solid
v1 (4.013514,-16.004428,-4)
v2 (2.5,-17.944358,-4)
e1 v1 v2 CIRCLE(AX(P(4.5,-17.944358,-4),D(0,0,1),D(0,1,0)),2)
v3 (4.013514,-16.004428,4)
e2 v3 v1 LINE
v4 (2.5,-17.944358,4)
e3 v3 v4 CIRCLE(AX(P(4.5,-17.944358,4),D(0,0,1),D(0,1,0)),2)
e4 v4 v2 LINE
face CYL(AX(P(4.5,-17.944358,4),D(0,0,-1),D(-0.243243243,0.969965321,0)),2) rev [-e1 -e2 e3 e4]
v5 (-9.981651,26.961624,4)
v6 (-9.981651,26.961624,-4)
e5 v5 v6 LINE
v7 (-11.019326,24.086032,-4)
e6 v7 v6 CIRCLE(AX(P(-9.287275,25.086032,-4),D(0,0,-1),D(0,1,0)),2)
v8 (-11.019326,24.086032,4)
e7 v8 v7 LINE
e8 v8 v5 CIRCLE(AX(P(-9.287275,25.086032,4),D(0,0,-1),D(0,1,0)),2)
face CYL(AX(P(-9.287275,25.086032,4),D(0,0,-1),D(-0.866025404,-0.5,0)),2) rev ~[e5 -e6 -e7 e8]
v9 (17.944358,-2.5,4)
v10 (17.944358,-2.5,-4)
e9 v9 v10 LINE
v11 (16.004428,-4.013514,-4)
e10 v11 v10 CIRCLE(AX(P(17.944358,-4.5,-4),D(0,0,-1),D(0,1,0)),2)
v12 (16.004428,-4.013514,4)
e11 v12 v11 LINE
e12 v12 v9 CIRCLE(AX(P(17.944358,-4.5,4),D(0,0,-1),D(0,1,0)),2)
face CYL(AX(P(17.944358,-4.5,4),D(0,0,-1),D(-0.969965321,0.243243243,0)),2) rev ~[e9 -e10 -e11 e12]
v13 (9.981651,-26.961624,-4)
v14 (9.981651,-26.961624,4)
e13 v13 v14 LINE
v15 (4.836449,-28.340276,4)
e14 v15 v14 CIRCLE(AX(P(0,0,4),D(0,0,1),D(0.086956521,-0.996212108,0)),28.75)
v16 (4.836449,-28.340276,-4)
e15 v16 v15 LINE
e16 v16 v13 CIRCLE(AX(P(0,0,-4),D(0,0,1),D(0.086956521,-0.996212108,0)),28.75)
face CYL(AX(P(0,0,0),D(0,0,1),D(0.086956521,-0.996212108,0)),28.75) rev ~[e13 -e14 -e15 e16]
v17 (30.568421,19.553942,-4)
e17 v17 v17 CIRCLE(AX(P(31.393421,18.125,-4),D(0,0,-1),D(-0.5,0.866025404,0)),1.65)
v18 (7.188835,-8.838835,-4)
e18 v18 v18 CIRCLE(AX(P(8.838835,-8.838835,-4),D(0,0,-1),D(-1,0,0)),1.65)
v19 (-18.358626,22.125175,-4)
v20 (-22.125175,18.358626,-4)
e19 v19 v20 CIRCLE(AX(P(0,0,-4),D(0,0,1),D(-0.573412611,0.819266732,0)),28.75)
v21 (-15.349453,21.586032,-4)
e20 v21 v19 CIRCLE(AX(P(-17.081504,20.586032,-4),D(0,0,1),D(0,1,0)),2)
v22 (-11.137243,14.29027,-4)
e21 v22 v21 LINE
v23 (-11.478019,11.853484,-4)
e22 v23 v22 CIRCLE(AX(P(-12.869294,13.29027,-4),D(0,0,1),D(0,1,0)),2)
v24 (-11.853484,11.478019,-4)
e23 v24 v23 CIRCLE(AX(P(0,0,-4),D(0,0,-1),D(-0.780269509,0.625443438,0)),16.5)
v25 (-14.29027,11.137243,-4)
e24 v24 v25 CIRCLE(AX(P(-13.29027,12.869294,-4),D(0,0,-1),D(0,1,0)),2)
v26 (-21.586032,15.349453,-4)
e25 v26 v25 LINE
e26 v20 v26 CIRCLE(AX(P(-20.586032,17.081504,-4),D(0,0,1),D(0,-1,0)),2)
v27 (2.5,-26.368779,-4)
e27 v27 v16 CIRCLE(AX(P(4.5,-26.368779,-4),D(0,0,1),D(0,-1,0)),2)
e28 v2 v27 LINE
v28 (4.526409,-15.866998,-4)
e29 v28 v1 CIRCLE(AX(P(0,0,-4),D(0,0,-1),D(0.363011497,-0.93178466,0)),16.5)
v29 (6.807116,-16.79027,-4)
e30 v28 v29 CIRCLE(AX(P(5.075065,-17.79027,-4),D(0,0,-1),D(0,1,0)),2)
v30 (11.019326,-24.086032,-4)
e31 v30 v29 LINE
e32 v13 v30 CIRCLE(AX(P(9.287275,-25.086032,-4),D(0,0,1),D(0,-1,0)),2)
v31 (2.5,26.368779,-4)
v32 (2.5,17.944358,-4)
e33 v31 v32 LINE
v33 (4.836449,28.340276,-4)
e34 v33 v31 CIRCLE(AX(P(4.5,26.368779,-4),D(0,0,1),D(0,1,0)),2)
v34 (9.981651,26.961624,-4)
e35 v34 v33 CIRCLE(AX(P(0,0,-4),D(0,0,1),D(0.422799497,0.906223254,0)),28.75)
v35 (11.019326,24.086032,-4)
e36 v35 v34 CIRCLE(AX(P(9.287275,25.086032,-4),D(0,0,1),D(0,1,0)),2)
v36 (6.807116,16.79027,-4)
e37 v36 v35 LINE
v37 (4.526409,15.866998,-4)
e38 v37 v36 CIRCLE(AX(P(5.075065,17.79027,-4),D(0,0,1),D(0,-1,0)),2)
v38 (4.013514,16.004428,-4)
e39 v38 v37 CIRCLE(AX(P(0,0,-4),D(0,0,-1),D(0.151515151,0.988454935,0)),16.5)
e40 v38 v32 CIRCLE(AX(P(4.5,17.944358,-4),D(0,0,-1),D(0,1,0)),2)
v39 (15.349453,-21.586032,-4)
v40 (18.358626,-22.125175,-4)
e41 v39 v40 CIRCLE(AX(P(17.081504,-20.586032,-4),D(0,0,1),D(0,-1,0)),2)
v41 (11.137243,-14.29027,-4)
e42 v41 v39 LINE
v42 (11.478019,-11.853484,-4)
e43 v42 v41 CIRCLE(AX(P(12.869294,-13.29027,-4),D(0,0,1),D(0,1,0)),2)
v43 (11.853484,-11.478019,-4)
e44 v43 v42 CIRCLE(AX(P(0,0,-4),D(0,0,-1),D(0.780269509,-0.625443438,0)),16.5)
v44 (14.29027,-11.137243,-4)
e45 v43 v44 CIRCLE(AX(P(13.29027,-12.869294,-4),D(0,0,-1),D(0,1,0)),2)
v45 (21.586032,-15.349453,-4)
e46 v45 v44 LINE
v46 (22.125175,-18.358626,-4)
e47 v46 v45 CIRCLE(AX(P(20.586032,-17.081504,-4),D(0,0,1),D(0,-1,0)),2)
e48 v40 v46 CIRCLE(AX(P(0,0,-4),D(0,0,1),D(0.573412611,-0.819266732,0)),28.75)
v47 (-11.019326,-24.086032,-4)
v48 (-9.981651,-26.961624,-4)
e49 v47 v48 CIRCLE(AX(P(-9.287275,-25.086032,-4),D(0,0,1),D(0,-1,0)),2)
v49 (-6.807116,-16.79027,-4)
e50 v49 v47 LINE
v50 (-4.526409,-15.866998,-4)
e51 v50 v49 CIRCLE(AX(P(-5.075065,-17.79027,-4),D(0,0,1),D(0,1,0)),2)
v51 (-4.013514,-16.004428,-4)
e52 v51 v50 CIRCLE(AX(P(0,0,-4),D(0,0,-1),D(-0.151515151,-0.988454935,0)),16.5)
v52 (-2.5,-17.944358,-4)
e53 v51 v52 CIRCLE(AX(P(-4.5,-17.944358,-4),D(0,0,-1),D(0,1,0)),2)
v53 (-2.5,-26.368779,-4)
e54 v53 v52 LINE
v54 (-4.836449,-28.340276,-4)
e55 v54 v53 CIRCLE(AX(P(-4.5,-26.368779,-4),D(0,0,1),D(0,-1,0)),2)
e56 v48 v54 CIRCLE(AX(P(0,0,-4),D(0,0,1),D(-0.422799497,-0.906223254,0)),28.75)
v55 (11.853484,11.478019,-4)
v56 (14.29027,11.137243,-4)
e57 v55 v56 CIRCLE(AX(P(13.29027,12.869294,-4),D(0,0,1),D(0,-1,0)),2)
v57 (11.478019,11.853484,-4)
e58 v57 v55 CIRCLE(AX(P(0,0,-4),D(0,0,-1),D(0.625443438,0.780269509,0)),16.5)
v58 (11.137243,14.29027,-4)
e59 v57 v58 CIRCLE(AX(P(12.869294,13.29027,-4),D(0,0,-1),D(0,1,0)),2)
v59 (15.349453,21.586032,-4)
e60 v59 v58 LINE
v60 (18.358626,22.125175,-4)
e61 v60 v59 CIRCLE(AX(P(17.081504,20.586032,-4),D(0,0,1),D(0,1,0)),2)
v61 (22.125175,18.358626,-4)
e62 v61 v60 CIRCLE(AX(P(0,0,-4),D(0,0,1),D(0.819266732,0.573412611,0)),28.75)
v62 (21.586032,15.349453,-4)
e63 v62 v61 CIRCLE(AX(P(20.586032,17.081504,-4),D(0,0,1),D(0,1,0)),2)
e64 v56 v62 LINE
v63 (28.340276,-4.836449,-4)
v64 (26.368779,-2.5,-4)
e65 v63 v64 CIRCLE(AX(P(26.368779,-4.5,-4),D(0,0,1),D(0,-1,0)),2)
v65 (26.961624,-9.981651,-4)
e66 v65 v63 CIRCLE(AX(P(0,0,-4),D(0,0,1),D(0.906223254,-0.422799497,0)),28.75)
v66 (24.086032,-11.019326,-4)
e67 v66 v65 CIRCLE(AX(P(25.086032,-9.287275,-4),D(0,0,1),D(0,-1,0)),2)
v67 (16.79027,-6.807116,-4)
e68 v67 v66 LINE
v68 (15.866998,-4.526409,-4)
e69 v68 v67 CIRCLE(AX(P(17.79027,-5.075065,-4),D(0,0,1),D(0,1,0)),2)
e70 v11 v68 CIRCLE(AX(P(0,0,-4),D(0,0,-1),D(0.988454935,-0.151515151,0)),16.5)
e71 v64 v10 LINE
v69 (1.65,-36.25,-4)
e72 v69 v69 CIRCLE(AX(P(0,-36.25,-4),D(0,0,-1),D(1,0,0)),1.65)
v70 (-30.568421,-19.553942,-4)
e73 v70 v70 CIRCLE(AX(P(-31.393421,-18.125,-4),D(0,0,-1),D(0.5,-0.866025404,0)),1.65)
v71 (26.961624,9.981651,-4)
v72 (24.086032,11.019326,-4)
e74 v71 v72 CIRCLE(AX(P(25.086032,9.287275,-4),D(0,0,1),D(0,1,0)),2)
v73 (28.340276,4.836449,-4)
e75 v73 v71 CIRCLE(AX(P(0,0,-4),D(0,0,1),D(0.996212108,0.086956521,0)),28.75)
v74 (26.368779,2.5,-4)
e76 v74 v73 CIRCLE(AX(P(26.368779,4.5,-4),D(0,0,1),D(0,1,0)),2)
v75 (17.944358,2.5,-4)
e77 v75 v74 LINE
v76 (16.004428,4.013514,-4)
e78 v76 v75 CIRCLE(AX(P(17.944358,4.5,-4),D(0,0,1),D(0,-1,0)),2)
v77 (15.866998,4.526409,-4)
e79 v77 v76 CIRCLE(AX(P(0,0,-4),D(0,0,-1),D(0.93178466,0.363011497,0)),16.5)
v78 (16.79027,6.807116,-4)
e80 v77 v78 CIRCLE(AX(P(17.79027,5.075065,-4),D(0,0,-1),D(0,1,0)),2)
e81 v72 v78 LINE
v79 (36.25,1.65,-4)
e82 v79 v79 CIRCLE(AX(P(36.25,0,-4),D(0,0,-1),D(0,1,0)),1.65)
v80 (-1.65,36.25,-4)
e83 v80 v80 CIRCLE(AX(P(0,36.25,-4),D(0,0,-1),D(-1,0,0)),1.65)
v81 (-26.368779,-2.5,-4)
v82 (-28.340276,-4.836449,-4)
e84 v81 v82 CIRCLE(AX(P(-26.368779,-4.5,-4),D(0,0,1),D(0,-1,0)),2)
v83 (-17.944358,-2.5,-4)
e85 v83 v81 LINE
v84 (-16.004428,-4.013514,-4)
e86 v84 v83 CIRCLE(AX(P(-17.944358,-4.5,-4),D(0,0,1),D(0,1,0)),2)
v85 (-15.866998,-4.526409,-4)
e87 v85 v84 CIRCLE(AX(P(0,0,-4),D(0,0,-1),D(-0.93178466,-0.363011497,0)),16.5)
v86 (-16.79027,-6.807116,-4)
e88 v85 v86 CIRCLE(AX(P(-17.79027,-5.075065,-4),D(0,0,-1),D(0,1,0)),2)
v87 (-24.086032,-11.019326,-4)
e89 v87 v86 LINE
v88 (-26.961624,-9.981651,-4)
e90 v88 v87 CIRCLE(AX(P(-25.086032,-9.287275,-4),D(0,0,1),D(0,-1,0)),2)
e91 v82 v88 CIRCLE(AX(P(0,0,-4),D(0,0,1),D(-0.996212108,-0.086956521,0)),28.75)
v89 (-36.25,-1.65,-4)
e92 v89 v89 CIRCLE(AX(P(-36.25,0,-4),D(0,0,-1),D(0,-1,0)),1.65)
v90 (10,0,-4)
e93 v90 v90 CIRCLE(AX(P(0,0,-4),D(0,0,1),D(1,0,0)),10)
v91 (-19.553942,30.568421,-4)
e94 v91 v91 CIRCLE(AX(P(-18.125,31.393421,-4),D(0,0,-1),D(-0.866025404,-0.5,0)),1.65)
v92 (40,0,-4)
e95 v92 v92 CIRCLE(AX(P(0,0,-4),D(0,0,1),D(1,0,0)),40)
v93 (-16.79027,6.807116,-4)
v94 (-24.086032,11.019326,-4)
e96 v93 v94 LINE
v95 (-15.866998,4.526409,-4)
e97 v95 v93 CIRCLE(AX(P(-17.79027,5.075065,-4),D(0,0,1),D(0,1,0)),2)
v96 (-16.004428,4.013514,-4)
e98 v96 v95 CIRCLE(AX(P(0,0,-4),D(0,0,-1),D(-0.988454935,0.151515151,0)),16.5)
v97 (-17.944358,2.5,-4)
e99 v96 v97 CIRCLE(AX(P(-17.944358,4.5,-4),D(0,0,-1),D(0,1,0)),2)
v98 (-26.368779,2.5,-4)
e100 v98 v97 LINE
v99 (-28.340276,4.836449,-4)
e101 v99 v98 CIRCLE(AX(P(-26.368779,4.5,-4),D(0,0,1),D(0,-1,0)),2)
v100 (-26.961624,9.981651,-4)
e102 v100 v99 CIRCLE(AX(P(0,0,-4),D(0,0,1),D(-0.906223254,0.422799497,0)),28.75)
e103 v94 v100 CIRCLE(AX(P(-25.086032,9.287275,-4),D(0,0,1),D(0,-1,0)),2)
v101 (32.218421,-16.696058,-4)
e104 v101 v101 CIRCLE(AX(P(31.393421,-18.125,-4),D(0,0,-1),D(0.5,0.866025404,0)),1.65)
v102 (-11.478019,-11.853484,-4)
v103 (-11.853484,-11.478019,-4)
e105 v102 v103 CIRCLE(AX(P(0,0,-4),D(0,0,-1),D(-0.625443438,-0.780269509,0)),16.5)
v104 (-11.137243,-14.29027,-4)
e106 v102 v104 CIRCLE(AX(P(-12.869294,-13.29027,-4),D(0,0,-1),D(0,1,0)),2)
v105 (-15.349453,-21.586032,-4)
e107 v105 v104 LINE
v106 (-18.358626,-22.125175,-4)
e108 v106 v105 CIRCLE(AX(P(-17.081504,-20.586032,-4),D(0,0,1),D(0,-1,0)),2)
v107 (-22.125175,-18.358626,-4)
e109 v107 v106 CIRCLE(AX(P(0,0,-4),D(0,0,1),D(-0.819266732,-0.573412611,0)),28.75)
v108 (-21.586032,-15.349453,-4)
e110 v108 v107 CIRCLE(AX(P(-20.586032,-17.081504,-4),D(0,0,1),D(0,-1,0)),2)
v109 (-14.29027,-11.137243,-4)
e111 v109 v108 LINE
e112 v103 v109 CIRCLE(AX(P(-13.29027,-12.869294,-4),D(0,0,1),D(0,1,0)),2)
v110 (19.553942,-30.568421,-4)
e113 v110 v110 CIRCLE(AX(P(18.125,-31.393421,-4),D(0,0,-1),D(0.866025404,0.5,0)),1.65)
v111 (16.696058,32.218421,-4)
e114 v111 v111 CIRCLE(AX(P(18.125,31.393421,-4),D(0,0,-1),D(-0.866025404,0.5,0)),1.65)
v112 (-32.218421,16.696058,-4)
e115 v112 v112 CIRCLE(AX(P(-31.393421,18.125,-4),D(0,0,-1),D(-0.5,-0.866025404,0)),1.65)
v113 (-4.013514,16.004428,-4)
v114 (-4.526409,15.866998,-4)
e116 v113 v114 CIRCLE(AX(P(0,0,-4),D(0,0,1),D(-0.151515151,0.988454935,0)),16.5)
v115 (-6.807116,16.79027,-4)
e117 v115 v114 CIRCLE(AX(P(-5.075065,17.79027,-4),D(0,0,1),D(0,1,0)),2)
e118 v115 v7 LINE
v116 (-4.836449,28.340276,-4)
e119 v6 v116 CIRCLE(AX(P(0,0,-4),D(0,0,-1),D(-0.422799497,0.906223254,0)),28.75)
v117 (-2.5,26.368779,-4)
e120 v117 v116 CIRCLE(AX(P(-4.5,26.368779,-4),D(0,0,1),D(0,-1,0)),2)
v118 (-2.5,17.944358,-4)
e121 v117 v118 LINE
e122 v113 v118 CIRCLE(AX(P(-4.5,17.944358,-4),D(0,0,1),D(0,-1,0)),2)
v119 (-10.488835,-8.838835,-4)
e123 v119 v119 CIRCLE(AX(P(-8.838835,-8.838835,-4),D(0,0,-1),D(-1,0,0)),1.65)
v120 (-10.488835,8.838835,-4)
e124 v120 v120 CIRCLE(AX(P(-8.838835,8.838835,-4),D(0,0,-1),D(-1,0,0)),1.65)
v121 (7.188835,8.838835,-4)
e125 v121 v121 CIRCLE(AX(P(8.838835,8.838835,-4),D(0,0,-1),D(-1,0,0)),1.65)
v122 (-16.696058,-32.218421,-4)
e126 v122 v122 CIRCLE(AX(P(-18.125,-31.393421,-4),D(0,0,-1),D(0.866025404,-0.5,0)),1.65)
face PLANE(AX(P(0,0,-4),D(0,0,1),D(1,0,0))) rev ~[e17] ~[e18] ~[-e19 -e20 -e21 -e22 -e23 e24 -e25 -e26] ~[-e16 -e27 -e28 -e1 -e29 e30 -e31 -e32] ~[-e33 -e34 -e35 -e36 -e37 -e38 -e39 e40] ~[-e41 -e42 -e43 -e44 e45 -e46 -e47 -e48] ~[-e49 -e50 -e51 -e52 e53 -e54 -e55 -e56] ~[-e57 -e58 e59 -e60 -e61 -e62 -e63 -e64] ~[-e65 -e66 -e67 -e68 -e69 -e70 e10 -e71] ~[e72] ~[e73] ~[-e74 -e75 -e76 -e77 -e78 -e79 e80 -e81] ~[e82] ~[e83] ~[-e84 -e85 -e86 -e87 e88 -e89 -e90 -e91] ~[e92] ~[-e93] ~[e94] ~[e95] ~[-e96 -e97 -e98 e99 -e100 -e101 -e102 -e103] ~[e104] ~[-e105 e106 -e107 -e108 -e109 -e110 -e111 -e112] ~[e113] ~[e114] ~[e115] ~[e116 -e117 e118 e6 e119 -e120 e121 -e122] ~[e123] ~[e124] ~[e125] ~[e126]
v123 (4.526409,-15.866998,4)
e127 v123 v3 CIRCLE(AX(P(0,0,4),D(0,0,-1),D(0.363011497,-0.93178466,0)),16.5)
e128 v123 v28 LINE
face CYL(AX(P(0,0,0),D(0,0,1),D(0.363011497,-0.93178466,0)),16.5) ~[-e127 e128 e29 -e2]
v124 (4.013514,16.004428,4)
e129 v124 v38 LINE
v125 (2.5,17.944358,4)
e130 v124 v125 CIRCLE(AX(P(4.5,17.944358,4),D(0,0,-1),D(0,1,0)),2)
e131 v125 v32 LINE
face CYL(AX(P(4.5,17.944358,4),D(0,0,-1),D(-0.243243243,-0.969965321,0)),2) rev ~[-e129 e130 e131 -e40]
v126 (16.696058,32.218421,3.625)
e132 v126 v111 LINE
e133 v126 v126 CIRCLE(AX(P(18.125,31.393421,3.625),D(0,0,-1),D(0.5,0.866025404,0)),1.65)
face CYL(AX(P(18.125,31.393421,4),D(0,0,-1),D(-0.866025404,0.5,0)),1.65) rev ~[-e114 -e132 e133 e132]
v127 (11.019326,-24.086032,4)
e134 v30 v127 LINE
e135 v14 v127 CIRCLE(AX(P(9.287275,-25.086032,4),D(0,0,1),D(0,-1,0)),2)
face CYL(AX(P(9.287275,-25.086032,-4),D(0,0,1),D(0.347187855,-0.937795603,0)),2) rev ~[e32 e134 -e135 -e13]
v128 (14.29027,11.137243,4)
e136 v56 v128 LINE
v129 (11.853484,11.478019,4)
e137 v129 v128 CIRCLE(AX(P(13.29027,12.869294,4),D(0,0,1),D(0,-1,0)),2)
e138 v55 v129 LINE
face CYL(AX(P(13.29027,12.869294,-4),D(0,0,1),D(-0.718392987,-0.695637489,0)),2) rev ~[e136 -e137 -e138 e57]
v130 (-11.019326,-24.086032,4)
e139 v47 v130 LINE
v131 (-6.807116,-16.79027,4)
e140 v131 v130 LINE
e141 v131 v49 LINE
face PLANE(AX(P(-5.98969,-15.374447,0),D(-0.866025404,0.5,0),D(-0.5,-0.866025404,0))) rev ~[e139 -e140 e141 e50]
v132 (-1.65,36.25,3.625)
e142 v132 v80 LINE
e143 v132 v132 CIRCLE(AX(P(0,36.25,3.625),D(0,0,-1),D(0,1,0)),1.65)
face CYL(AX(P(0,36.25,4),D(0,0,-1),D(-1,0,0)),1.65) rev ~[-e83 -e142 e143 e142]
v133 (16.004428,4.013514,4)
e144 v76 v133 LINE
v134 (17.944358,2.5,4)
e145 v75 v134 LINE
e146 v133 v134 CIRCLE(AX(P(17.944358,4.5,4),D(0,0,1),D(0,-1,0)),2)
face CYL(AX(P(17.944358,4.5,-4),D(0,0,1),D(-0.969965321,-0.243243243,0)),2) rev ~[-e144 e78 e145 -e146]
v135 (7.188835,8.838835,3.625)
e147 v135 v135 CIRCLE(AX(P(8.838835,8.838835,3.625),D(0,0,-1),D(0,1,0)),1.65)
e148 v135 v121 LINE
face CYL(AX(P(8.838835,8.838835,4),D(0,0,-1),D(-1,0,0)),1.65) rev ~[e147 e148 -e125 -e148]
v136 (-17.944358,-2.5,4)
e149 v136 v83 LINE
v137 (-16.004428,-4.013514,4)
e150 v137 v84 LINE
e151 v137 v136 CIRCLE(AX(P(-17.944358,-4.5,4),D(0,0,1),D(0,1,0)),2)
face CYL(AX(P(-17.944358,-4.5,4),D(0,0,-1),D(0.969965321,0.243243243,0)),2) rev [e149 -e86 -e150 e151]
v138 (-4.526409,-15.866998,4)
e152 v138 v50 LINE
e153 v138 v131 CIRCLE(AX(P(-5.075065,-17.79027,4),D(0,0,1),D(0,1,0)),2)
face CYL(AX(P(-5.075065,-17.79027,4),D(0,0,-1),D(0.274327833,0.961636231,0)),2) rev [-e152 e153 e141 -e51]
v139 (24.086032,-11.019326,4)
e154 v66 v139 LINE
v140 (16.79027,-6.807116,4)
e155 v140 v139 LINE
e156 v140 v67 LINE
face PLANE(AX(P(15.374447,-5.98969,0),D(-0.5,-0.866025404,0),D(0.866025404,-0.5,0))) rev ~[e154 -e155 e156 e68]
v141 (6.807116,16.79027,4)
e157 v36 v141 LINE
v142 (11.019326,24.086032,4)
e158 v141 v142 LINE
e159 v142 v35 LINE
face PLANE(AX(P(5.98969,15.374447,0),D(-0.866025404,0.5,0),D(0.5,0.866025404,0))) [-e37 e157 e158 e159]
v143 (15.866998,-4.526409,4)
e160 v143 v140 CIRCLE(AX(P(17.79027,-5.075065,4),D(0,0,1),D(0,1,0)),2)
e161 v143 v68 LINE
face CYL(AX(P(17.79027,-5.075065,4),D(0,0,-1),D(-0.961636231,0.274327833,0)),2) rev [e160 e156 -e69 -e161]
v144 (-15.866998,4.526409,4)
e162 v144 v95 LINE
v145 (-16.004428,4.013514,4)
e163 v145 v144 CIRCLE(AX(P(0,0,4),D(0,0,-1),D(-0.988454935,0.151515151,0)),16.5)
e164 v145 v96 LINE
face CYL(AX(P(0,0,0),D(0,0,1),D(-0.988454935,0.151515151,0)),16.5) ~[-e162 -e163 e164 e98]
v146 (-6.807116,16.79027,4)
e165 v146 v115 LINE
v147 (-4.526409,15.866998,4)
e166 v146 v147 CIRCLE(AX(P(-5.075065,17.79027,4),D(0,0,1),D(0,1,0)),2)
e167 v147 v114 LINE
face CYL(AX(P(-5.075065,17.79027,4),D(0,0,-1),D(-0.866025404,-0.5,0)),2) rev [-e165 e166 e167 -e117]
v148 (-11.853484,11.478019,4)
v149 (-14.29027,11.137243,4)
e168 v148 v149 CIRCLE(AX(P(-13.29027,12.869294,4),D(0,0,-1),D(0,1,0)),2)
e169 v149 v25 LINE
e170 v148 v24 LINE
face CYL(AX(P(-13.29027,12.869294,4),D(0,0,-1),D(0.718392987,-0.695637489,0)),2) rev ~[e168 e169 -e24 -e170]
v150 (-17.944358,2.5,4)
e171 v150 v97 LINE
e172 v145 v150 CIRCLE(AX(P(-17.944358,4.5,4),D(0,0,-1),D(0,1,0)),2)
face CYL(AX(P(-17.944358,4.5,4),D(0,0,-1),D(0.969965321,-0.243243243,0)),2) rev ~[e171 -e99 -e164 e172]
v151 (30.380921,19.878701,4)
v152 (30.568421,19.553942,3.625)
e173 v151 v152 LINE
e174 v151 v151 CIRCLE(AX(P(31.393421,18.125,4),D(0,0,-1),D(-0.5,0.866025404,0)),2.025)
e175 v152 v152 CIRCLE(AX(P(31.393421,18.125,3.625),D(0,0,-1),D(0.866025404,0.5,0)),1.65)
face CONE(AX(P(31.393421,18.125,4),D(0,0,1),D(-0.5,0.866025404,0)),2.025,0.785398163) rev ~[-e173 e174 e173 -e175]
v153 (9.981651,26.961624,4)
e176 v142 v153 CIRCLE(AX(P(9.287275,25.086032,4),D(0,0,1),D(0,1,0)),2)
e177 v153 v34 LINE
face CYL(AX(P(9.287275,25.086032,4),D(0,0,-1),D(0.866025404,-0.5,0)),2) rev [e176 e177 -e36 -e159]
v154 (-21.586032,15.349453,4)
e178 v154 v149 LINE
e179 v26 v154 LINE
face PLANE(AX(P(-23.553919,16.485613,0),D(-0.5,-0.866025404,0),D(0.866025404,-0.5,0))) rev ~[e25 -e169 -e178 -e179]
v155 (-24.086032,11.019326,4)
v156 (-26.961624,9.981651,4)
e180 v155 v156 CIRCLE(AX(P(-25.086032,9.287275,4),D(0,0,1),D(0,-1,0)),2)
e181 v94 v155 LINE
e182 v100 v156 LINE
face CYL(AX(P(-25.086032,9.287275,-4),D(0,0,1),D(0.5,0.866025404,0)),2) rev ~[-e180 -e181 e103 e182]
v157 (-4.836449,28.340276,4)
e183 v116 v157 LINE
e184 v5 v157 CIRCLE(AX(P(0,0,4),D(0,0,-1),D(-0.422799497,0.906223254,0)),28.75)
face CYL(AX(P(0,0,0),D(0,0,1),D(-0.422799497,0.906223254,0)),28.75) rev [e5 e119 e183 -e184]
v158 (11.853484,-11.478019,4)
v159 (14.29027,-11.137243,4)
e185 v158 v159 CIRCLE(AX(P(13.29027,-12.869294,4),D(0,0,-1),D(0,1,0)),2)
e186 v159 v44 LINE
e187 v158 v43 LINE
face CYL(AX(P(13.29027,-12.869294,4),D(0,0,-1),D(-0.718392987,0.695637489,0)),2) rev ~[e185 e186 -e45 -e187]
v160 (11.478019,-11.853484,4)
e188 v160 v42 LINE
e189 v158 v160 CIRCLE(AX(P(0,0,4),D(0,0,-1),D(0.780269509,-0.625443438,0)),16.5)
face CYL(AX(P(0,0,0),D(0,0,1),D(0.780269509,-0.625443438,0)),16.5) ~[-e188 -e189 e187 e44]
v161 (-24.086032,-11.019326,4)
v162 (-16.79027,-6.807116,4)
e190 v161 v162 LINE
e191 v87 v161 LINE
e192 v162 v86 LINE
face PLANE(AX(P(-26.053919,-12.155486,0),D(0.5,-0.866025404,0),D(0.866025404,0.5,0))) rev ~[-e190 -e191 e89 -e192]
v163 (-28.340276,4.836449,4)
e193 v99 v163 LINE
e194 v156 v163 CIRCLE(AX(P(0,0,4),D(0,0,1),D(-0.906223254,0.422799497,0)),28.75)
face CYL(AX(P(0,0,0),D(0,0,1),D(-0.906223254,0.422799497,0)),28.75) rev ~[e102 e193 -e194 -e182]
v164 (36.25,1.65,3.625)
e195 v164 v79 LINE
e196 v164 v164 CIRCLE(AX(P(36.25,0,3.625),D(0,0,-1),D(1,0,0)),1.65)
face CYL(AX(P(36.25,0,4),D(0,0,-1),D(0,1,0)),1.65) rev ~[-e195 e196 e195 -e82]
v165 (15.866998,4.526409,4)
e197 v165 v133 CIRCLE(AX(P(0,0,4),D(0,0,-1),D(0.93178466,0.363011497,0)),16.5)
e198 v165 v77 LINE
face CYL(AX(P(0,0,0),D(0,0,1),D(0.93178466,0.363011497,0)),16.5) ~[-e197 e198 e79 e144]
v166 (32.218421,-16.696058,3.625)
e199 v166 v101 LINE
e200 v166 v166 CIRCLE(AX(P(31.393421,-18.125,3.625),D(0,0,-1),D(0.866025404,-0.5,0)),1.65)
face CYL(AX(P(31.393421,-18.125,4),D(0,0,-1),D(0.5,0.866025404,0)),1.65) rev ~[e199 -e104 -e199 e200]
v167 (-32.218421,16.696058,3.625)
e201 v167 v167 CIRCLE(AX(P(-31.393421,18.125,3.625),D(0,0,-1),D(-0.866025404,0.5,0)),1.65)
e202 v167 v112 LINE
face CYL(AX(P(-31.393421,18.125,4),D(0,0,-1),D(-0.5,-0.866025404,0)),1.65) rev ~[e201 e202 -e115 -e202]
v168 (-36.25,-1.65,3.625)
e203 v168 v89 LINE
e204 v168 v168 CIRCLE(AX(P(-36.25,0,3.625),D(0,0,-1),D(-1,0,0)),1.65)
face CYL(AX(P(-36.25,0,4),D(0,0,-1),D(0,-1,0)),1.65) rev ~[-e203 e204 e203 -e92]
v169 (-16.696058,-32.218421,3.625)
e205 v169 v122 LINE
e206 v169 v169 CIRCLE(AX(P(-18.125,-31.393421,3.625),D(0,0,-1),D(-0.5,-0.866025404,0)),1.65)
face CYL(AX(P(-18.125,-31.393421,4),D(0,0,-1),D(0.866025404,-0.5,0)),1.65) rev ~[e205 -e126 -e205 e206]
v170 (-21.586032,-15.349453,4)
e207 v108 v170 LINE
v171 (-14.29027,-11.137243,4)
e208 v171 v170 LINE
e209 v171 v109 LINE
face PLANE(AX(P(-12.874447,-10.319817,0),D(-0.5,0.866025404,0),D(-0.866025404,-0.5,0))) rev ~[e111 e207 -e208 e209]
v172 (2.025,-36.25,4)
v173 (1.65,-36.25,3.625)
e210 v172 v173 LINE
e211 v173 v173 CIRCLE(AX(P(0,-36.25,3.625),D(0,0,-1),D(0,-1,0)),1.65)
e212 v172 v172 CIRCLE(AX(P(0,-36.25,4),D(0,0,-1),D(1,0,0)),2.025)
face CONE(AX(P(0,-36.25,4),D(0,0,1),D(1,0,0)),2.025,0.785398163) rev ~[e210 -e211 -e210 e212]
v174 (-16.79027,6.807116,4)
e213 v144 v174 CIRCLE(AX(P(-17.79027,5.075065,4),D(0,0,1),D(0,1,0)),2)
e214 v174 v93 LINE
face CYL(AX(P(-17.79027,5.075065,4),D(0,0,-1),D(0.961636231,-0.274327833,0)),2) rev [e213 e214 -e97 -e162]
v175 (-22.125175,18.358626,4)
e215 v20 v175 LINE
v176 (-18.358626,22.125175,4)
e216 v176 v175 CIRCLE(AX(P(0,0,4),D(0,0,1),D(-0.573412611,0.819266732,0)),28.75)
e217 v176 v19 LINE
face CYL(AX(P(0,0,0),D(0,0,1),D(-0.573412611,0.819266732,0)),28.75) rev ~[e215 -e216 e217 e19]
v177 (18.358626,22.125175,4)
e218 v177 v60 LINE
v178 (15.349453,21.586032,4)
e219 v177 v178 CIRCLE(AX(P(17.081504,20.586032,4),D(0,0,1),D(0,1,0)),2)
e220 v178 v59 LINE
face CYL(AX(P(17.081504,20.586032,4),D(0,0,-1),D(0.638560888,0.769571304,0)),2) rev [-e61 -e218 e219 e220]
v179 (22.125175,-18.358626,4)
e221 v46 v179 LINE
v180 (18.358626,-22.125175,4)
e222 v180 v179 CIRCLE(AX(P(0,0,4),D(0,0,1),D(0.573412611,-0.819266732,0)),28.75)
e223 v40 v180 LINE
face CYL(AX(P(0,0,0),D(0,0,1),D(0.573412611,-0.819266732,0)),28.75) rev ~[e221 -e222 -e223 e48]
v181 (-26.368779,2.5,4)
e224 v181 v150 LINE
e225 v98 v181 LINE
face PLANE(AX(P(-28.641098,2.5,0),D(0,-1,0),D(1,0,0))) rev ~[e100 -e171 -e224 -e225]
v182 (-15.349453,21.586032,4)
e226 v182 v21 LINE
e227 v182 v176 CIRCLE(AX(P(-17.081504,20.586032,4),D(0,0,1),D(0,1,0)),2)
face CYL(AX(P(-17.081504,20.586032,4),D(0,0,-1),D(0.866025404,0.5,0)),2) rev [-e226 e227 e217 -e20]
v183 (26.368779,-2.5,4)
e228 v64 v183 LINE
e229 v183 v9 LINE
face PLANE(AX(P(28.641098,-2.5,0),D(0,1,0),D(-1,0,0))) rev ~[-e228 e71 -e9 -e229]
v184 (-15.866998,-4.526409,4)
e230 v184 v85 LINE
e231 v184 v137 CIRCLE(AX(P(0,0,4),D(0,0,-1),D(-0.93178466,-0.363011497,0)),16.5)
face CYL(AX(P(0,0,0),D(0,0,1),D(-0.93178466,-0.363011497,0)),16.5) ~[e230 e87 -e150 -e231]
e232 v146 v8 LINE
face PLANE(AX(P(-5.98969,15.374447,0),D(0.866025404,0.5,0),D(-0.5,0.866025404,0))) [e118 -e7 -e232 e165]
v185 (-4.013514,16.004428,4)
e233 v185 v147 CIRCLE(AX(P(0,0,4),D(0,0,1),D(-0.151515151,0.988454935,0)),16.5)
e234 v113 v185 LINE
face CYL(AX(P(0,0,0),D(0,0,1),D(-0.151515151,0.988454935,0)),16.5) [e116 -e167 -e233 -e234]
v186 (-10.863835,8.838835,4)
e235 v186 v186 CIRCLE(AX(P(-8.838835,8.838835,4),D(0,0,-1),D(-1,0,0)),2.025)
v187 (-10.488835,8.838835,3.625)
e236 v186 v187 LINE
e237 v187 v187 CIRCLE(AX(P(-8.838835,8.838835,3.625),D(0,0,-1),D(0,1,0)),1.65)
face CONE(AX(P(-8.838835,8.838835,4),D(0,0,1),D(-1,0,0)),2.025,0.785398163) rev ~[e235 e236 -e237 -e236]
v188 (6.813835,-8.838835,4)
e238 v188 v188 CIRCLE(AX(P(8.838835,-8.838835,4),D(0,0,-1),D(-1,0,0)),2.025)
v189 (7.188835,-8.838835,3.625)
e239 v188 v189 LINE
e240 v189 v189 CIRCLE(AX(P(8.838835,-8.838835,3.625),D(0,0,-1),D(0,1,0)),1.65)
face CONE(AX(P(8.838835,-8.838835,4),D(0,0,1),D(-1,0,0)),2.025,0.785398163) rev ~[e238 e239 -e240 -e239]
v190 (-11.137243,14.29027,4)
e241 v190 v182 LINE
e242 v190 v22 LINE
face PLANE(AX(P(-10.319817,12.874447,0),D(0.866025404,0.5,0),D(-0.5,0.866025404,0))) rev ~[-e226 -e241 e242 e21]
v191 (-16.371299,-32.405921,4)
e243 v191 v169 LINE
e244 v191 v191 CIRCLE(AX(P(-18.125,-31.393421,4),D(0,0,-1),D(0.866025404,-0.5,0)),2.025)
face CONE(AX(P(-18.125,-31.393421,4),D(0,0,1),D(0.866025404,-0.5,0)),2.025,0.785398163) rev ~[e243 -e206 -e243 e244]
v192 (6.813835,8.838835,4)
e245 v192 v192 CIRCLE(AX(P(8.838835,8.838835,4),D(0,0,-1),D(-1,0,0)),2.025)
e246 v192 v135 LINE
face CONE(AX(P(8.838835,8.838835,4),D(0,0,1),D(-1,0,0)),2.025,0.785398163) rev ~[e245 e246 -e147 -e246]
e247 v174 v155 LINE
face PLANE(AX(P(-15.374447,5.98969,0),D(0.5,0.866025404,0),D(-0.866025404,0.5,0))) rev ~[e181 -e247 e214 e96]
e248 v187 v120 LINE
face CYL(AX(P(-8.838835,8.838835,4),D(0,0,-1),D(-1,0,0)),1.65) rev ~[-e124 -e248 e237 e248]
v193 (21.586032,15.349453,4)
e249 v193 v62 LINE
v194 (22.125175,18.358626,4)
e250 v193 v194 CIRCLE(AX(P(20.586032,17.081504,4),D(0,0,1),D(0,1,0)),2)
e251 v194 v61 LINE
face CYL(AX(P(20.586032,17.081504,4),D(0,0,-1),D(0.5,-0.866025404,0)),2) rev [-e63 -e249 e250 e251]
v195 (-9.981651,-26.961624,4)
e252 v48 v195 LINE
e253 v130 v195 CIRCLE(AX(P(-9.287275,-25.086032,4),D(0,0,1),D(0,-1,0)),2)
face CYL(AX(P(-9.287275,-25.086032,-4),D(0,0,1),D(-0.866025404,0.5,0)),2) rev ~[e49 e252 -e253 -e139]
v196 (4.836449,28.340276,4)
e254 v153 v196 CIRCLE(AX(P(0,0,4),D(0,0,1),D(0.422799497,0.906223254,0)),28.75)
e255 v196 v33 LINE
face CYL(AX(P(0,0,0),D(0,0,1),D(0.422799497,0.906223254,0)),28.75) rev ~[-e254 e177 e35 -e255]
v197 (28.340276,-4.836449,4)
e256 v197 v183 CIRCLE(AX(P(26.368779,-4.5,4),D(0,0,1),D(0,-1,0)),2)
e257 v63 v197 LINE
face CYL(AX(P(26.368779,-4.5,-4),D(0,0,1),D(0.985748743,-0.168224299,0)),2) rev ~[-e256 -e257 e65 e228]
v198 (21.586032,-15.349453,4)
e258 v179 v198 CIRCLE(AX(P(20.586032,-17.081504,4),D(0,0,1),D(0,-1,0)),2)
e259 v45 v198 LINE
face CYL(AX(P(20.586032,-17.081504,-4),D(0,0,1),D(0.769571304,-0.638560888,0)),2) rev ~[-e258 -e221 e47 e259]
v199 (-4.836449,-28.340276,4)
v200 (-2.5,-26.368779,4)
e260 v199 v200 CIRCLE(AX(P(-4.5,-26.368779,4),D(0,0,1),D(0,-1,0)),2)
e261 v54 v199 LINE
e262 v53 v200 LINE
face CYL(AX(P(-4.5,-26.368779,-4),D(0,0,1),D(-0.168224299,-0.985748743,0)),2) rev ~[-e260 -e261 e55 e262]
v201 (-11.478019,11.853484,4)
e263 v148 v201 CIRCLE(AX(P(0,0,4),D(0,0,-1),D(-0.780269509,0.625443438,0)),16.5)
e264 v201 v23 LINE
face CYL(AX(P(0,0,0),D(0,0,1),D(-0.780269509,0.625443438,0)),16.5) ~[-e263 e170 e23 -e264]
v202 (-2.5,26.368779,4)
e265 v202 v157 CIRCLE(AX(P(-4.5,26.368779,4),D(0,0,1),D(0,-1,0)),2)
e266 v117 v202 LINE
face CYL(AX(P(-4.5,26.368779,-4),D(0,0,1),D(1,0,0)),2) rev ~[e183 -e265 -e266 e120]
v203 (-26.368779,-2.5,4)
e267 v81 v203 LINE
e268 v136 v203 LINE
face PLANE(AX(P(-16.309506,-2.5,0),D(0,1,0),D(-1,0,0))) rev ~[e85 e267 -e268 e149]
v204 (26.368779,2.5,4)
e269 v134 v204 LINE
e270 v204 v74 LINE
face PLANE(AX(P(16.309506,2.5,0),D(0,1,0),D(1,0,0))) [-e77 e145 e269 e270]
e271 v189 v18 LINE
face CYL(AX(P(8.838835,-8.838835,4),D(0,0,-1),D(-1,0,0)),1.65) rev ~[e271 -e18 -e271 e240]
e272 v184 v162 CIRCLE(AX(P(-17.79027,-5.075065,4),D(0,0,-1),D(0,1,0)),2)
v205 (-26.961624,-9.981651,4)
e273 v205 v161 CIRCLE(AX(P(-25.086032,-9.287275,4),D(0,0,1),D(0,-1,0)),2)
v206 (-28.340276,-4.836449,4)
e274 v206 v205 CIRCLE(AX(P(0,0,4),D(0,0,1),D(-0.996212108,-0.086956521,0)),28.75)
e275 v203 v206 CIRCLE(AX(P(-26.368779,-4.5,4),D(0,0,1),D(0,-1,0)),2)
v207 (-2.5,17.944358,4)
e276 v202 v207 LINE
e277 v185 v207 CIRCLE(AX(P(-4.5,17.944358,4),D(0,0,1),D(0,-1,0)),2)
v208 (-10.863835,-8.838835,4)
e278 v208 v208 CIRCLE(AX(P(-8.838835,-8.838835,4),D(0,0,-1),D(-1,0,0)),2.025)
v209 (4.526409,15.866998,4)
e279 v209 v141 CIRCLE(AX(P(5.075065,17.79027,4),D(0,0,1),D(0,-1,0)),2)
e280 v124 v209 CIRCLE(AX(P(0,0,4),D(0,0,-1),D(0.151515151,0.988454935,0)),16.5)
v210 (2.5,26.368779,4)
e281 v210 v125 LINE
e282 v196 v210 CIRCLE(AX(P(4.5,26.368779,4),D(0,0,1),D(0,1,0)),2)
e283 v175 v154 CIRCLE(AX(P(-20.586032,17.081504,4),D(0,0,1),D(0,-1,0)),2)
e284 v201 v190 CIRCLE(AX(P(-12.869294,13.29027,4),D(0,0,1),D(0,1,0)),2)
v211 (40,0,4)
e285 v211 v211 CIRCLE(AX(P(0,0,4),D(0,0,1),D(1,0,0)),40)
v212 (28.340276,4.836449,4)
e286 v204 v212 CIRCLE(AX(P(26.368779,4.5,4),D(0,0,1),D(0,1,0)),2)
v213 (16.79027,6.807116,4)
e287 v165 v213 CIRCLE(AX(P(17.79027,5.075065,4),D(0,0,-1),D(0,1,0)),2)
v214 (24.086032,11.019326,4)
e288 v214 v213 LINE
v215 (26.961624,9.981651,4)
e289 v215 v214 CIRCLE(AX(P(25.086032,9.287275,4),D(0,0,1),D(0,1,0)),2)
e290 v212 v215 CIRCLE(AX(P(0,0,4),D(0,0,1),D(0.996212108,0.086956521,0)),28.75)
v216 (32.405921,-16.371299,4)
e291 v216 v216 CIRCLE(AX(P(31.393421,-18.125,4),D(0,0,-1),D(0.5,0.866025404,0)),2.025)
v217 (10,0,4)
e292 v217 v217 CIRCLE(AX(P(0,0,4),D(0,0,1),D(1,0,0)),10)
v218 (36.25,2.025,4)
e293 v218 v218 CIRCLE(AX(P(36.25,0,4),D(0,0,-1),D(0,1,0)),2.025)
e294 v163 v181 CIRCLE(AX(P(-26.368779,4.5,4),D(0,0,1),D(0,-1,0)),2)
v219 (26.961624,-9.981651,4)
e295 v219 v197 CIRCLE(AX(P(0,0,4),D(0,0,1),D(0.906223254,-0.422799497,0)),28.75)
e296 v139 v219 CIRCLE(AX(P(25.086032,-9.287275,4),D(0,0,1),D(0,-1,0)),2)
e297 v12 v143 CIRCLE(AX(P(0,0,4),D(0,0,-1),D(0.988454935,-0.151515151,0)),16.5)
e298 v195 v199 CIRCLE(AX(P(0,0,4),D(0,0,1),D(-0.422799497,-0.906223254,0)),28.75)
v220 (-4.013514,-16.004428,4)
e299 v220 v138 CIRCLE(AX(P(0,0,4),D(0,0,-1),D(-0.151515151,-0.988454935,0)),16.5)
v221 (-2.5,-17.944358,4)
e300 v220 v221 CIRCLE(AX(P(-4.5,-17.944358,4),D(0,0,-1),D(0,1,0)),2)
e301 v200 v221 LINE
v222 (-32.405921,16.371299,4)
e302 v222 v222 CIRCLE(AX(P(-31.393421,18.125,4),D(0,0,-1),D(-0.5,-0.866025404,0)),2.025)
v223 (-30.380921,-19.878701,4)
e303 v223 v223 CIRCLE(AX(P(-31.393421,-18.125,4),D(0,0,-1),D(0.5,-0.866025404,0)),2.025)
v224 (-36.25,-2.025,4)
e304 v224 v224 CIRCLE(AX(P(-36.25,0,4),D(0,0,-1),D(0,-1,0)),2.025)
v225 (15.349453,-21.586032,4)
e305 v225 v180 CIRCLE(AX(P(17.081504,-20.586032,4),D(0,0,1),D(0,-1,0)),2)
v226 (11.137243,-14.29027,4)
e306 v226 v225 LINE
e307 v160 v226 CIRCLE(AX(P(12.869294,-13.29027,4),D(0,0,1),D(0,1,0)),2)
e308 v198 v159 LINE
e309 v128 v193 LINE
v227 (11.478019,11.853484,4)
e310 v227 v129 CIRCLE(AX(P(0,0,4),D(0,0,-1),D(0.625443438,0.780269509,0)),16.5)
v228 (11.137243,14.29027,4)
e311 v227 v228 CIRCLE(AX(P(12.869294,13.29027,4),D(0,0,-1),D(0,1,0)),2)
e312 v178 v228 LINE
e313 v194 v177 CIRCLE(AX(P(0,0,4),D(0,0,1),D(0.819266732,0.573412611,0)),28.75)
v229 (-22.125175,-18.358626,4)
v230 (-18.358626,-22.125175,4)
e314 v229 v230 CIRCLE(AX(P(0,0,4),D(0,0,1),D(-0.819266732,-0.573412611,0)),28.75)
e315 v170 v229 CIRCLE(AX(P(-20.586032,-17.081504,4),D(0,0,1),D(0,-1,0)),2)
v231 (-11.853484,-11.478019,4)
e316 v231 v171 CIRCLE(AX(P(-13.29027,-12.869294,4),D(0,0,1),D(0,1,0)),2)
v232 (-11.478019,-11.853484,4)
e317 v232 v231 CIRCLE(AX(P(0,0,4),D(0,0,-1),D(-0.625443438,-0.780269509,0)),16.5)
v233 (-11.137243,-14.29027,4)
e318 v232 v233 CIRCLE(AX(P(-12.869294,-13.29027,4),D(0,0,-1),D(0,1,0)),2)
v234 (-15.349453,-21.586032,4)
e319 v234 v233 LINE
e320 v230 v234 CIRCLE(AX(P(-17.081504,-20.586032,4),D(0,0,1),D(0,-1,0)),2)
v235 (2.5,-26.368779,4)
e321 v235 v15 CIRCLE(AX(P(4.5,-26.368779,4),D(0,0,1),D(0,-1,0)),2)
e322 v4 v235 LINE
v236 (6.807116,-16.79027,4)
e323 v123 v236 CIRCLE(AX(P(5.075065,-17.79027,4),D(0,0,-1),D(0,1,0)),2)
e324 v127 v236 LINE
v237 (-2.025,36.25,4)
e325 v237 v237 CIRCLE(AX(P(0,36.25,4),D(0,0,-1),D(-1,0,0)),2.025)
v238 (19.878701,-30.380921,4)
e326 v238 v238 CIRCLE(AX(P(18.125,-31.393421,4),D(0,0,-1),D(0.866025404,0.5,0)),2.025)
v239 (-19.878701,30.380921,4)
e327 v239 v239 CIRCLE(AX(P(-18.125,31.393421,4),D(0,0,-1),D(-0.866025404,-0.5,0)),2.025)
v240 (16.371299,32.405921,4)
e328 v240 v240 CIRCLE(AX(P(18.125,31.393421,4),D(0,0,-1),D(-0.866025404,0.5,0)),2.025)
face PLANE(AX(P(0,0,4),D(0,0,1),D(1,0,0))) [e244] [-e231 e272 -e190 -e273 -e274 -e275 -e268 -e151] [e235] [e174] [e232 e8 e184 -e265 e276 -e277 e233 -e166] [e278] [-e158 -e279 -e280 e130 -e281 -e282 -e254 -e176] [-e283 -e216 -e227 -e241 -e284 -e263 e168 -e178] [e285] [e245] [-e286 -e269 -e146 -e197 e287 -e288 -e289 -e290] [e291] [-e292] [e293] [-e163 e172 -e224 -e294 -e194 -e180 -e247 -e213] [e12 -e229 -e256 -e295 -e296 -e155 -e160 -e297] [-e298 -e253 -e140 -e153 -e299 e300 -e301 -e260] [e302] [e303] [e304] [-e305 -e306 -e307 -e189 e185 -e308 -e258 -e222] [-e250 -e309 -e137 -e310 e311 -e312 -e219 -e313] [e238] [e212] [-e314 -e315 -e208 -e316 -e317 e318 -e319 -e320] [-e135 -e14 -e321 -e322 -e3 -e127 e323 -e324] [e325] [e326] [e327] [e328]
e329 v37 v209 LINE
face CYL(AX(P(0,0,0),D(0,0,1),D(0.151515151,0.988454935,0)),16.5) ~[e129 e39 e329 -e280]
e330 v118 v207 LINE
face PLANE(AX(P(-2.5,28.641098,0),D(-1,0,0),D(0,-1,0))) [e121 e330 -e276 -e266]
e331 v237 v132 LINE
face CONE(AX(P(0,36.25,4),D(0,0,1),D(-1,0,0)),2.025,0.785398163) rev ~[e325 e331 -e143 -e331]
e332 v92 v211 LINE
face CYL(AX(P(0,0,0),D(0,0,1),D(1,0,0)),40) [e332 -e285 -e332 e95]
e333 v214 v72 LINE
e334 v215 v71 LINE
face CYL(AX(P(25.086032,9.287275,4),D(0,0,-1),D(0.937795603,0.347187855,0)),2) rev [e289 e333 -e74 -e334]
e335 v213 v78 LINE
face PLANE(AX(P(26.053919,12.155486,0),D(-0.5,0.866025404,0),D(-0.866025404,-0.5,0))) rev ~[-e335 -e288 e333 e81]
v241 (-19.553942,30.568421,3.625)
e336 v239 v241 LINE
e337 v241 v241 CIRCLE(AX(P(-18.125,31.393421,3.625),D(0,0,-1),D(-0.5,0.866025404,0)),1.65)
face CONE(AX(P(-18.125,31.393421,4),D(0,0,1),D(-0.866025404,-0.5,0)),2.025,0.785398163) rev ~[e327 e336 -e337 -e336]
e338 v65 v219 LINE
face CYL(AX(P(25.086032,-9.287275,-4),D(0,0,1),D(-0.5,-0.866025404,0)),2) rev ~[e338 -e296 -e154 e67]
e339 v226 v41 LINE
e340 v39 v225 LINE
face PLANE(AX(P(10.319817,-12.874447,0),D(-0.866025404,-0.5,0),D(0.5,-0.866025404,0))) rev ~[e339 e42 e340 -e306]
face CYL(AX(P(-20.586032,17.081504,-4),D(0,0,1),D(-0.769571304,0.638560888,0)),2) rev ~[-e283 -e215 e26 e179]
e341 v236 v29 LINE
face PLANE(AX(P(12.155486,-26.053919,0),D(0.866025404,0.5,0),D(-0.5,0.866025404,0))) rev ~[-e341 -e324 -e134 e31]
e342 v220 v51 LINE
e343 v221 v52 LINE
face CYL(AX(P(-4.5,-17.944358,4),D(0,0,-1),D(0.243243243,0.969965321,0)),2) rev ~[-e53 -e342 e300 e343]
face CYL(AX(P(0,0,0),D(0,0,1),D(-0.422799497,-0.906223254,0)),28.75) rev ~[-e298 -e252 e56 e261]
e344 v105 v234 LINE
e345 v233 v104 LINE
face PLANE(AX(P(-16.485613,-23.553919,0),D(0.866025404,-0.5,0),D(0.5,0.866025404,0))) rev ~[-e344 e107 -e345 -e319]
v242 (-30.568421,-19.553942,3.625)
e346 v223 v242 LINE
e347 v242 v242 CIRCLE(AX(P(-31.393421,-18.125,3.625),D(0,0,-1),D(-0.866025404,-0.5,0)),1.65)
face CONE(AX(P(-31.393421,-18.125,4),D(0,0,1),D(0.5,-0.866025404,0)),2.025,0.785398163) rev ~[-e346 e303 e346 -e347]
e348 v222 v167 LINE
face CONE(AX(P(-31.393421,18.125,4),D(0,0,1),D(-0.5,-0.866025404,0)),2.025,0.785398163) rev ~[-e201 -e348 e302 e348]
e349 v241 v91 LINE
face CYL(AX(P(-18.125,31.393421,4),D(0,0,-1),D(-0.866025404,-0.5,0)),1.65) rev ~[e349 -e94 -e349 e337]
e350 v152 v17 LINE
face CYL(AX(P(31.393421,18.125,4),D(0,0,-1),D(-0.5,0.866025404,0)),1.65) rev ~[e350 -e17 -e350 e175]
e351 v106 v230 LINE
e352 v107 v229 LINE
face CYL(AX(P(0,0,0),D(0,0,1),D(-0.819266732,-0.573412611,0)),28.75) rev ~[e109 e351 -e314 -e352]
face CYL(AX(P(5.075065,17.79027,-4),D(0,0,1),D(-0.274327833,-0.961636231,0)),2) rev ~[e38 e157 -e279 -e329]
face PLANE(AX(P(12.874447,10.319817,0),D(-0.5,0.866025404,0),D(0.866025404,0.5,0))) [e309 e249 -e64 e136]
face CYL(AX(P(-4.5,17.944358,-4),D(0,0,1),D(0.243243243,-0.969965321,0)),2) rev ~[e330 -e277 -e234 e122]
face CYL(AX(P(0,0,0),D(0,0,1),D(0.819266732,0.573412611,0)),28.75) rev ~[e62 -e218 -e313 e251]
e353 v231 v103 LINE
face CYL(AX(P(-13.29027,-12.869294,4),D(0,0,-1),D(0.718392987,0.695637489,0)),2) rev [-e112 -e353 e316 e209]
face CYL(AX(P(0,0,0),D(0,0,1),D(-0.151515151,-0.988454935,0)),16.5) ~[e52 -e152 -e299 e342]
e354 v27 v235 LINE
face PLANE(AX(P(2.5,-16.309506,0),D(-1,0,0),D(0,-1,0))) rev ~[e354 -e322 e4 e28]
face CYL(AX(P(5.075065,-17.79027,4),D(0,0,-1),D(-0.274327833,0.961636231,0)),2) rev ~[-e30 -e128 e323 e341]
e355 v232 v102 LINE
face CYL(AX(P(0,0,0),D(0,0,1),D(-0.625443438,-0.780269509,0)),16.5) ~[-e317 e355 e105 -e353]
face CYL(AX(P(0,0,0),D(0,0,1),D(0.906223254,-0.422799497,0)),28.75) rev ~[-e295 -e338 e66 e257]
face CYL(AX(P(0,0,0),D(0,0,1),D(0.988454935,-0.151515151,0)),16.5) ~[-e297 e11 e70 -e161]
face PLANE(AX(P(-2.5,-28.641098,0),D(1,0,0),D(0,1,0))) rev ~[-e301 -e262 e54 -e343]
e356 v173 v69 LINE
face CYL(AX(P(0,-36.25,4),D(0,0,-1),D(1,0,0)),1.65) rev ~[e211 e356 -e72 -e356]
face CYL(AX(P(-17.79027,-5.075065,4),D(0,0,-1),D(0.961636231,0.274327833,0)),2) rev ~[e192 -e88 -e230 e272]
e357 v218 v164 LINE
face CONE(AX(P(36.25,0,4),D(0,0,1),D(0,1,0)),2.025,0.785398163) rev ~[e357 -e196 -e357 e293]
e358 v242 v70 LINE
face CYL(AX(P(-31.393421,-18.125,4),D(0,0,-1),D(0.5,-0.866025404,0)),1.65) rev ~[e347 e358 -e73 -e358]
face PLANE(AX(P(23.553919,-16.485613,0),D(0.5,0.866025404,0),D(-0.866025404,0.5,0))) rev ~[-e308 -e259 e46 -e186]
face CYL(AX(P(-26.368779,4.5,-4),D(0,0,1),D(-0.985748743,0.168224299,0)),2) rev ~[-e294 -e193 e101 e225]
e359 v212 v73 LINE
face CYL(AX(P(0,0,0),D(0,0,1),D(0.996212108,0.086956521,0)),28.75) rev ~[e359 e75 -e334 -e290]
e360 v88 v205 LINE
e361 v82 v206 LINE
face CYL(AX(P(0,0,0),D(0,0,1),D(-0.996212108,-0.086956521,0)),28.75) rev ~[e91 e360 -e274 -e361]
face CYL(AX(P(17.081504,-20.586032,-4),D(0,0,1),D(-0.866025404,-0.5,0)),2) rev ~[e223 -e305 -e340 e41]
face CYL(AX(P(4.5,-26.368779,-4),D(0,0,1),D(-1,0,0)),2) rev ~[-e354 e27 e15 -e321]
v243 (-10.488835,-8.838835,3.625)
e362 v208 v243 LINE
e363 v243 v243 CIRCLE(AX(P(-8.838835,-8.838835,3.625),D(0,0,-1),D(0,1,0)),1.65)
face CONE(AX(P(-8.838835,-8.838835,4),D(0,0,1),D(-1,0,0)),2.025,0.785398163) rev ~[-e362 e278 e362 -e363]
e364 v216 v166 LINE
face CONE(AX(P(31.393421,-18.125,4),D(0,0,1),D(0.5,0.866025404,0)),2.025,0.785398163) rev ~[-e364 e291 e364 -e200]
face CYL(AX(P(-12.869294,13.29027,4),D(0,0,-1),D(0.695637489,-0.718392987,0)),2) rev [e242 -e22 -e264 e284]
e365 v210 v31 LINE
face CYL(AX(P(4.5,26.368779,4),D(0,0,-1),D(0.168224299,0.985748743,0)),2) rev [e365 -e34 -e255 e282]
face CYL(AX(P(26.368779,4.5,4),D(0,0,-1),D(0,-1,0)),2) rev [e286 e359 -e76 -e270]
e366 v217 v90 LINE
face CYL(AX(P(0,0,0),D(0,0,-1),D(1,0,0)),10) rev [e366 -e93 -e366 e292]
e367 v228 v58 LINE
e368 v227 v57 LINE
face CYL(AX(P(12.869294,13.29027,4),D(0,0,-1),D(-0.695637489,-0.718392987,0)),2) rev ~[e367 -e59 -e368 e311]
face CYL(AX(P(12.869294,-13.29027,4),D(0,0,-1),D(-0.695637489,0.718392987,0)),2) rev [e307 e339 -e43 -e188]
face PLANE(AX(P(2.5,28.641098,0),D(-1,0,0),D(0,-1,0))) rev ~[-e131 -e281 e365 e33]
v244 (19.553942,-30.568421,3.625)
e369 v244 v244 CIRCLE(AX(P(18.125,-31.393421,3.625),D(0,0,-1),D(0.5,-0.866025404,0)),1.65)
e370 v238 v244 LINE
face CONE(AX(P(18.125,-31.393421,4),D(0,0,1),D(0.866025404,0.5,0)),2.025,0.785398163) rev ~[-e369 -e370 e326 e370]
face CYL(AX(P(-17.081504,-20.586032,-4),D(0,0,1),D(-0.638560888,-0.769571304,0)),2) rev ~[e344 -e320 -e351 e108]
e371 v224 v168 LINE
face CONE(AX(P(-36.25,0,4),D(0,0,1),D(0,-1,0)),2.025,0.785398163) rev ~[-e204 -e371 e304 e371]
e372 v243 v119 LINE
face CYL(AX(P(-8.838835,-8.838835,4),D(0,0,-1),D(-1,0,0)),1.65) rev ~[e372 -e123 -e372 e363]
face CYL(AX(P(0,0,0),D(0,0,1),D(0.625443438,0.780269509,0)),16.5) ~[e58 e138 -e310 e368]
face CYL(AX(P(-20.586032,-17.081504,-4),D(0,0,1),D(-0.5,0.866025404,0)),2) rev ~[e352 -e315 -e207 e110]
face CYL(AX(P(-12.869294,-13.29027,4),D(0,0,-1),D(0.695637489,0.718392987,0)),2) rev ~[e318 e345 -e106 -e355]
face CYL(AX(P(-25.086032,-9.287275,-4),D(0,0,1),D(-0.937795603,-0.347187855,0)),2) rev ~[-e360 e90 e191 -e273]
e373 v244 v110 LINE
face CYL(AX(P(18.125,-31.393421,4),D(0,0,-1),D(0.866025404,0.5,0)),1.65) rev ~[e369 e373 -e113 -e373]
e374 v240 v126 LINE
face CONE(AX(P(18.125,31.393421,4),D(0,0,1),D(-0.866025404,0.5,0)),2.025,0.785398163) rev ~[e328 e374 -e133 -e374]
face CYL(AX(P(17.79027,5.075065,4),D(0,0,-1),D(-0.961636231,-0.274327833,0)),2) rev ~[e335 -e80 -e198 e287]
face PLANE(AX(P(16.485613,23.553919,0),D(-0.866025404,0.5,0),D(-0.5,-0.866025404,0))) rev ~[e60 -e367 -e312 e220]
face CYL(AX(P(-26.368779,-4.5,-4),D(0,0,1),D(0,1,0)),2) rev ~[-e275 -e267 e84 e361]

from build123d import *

# Parameters (mm, degrees)
SKETCH1_R                       = 40
SKETCH1_R_2                     = 10
BOSS_EXTRUDE1_DEPTH             = 4
M4X0_7_TAPPED_HOLE2_D           = 3.3
M4X0_7_TAPPED_HOLE2_CSINK_D     = 4.05
M4X0_7_TAPPED_HOLE2_CSINK_ANGLE = 90
M4X0_7_TAPPED_HOLE3_D           = 3.3
M4X0_7_TAPPED_HOLE3_CSINK_D     = 4.05
M4X0_7_TAPPED_HOLE3_CSINK_ANGLE = 90
CIRPATTERN1_COUNT               = 12
FILLET1_R                       = 2


with BuildPart() as part:
    # Sketch1 → Boss-Extrude1 (new, symmetric)
    with BuildSketch(Plane.XY):
        Circle(SKETCH1_R)
        Circle(SKETCH1_R_2, mode=Mode.SUBTRACT)
        with BuildLine():
            Line((-2.5, 28.641098093), (-2.5, 16.30950643))
            ThreePointArc((-2.5, 16.30950643), (-4.270514244, 15.937776134), (-5.989689706, 15.374446892))
            Line((-5.989689706, 15.374446892), (-12.155485537, 26.053918541))
            ThreePointArc((-12.155485537, 26.053918541), (-7.441047547, 27.770367506), (-2.5, 28.641098093))
        make_face(mode=Mode.SUBTRACT)
        with BuildLine():
            Line((2.5, 28.641098093), (2.5, 16.30950643))
            ThreePointArc((2.5, 16.30950643), (4.270514244, 15.937776134), (5.989689706, 15.374446892))
            Line((5.989689706, 15.374446892), (12.155485537, 26.053918541))
            ThreePointArc((12.155485537, 26.053918541), (7.441047547, 27.770367506), (2.5, 28.641098093))
        make_face(mode=Mode.SUBTRACT)
        with BuildLine():
            Line((16.485612556, 23.553918541), (10.319816725, 12.874446892))
            ThreePointArc((10.319816725, 12.874446892), (11.66726189, 11.66726189), (12.874446892, 10.319816725))
            Line((12.874446892, 10.319816725), (23.553918541, 16.485612556))
            ThreePointArc((23.553918541, 16.485612556), (20.329319959, 20.329319959), (16.485612556, 23.553918541))
        make_face(mode=Mode.SUBTRACT)
        with BuildLine():
            Line((26.053918541, 12.155485537), (15.374446892, 5.989689706))
            ThreePointArc((15.374446892, 5.989689706), (15.937776134, 4.270514244), (16.30950643, 2.5))
            Line((16.30950643, 2.5), (28.641098093, 2.5))
            ThreePointArc((28.641098093, 2.5), (27.770367506, 7.441047547), (26.053918541, 12.155485537))
        make_face(mode=Mode.SUBTRACT)
        with BuildLine():
            Line((28.641098093, -2.5), (16.30950643, -2.5))
            ThreePointArc((16.30950643, -2.5), (15.937776134, -4.270514244), (15.374446892, -5.989689706))
            Line((15.374446892, -5.989689706), (26.053918541, -12.155485537))
            ThreePointArc((26.053918541, -12.155485537), (27.770367506, -7.441047547), (28.641098093, -2.5))
        make_face(mode=Mode.SUBTRACT)
        with BuildLine():
            Line((23.553918541, -16.485612556), (12.874446892, -10.319816725))
            ThreePointArc((12.874446892, -10.319816725), (11.66726189, -11.66726189), (10.319816725, -12.874446892))
            Line((10.319816725, -12.874446892), (16.485612556, -23.553918541))
            ThreePointArc((16.485612556, -23.553918541), (20.329319959, -20.329319959), (23.553918541, -16.485612556))
        make_face(mode=Mode.SUBTRACT)
        with BuildLine():
            Line((12.155485537, -26.053918541), (5.989689706, -15.374446892))
            ThreePointArc((5.989689706, -15.374446892), (4.270514244, -15.937776134), (2.5, -16.30950643))
            Line((2.5, -16.30950643), (2.5, -28.641098093))
            ThreePointArc((2.5, -28.641098093), (7.441047547, -27.770367506), (12.155485537, -26.053918541))
        make_face(mode=Mode.SUBTRACT)
        with BuildLine():
            Line((-2.5, -28.641098093), (-2.5, -16.30950643))
            ThreePointArc((-2.5, -16.30950643), (-4.270514244, -15.937776134), (-5.989689706, -15.374446892))
            Line((-5.989689706, -15.374446892), (-12.155485537, -26.053918541))
            ThreePointArc((-12.155485537, -26.053918541), (-7.441047547, -27.770367506), (-2.5, -28.641098093))
        make_face(mode=Mode.SUBTRACT)
        with BuildLine():
            Line((-16.485612556, -23.553918541), (-10.319816725, -12.874446892))
            ThreePointArc((-10.319816725, -12.874446892), (-11.66726189, -11.66726189), (-12.874446892, -10.319816725))
            Line((-12.874446892, -10.319816725), (-23.553918541, -16.485612556))
            ThreePointArc((-23.553918541, -16.485612556), (-20.329319959, -20.329319959), (-16.485612556, -23.553918541))
        make_face(mode=Mode.SUBTRACT)
        with BuildLine():
            Line((-26.053918541, -12.155485537), (-15.374446892, -5.989689706))
            ThreePointArc((-15.374446892, -5.989689706), (-15.937776134, -4.270514244), (-16.30950643, -2.5))
            Line((-16.30950643, -2.5), (-28.641098093, -2.5))
            ThreePointArc((-28.641098093, -2.5), (-27.770367506, -7.441047547), (-26.053918541, -12.155485537))
        make_face(mode=Mode.SUBTRACT)
        with BuildLine():
            Line((-28.641098093, 2.5), (-16.30950643, 2.5))
            ThreePointArc((-16.30950643, 2.5), (-15.937776134, 4.270514244), (-15.374446892, 5.989689706))
            Line((-15.374446892, 5.989689706), (-26.053918541, 12.155485537))
            ThreePointArc((-26.053918541, 12.155485537), (-27.770367506, 7.441047547), (-28.641098093, 2.5))
        make_face(mode=Mode.SUBTRACT)
        with BuildLine():
            Line((-23.553918541, 16.485612556), (-12.874446892, 10.319816725))
            ThreePointArc((-12.874446892, 10.319816725), (-11.66726189, 11.66726189), (-10.319816725, 12.874446892))
            Line((-10.319816725, 12.874446892), (-16.485612556, 23.553918541))
            ThreePointArc((-16.485612556, 23.553918541), (-20.329319959, 20.329319959), (-23.553918541, 16.485612556))
        make_face(mode=Mode.SUBTRACT)
    extrude(amount=BOSS_EXTRUDE1_DEPTH, both=True)

    # M4x0.7 Tapped Hole2 (through all)
    with Locations(Plane.XY.offset(4)):
        with Locations((-8.838834765, 8.838834765), (-8.838834765, -8.838834765), (8.838834765, -8.838834765), (8.838834765, 8.838834765)):
            CounterSinkHole(M4X0_7_TAPPED_HOLE2_D / 2, M4X0_7_TAPPED_HOLE2_CSINK_D / 2, counter_sink_angle=M4X0_7_TAPPED_HOLE2_CSINK_ANGLE)

    # M4x0.7 Tapped Hole3 (through all)
    with Locations(Plane.XY.offset(4)):
        with Locations((0, 36.25)):
            m4x0_7_tapped_hole3 = CounterSinkHole(M4X0_7_TAPPED_HOLE3_D / 2, M4X0_7_TAPPED_HOLE3_CSINK_D / 2, counter_sink_angle=M4X0_7_TAPPED_HOLE3_CSINK_ANGLE)

    # CirPattern1: M4x0.7 Tapped Hole3 ×12 about axis
    cirpattern1_axis = Axis((0, 0, 0), (0, 0, 1))
    for i in range(1, CIRPATTERN1_COUNT):
        add(m4x0_7_tapped_hole3.rotate(cirpattern1_axis, i * 360 / CIRPATTERN1_COUNT), mode=Mode.SUBTRACT)

    # Fillet1
    fillet1_edges = [part.edges().sort_by_distance(p)[0] for p in [
        (28.641098093, 2.5, 0),
        (26.053918541, 12.155485537, 0),
        (15.374446892, 5.989689706, 0),
        (16.30950643, 2.5, 0),
        (16.485612556, -23.553918541, 0),
        (23.553918541, -16.485612556, 0),
        (12.874446892, -10.319816725, 0),
        (10.319816725, -12.874446892, 0),
        (-26.053918541, 12.155485537, 0),
        (-28.641098093, 2.5, 0),
        (-16.30950643, 2.5, 0),
        (2.5, -28.641098093, 0),
        (12.155485537, -26.053918541, 0),
        (5.989689706, -15.374446892, 0),
        (2.5, -16.30950643, 0),
        (-15.374446892, 5.989689706, 0),
        (-23.553918541, -16.485612556, 0),
        (-16.485612556, -23.553918541, 0),
        (-10.319816725, -12.874446892, 0),
        (-12.874446892, -10.319816725, 0),
        (-28.641098093, -2.5, 0),
        (-26.053918541, -12.155485537, 0),
        (-15.374446892, -5.989689706, 0),
        (-16.30950643, -2.5, 0),
        (26.053918541, -12.155485537, 0),
        (28.641098093, -2.5, 0),
        (16.30950643, -2.5, 0),
        (15.374446892, -5.989689706, 0),
        (12.155485537, 26.053918541, 0),
        (2.5, 28.641098093, 0),
        (2.5, 16.30950643, 0),
        (5.989689706, 15.374446892, 0),
        (-12.155485537, -26.053918541, 0),
        (-2.5, -28.641098093, 0),
        (-2.5, -16.30950643, 0),
        (-5.989689706, -15.374446892, 0),
        (-5.989689706, 15.374446892, 0),
        (-2.5, 16.30950643, 0),
        (-2.5, 28.641098093, 0),
        (-12.155485537, 26.053918541, 0),
        (-16.485612556, 23.553918541, 0),
        (-23.553918541, 16.485612556, 0),
        (-12.874446892, 10.319816725, 0),
        (-10.319816725, 12.874446892, 0),
        (23.553918541, 16.485612556, 0),
        (16.485612556, 23.553918541, 0),
        (10.319816725, 12.874446892, 0),
        (12.874446892, 10.319816725, 0),
    ]]
    fillet(fillet1_edges, radius=FILLET1_R)


solid = part.part
